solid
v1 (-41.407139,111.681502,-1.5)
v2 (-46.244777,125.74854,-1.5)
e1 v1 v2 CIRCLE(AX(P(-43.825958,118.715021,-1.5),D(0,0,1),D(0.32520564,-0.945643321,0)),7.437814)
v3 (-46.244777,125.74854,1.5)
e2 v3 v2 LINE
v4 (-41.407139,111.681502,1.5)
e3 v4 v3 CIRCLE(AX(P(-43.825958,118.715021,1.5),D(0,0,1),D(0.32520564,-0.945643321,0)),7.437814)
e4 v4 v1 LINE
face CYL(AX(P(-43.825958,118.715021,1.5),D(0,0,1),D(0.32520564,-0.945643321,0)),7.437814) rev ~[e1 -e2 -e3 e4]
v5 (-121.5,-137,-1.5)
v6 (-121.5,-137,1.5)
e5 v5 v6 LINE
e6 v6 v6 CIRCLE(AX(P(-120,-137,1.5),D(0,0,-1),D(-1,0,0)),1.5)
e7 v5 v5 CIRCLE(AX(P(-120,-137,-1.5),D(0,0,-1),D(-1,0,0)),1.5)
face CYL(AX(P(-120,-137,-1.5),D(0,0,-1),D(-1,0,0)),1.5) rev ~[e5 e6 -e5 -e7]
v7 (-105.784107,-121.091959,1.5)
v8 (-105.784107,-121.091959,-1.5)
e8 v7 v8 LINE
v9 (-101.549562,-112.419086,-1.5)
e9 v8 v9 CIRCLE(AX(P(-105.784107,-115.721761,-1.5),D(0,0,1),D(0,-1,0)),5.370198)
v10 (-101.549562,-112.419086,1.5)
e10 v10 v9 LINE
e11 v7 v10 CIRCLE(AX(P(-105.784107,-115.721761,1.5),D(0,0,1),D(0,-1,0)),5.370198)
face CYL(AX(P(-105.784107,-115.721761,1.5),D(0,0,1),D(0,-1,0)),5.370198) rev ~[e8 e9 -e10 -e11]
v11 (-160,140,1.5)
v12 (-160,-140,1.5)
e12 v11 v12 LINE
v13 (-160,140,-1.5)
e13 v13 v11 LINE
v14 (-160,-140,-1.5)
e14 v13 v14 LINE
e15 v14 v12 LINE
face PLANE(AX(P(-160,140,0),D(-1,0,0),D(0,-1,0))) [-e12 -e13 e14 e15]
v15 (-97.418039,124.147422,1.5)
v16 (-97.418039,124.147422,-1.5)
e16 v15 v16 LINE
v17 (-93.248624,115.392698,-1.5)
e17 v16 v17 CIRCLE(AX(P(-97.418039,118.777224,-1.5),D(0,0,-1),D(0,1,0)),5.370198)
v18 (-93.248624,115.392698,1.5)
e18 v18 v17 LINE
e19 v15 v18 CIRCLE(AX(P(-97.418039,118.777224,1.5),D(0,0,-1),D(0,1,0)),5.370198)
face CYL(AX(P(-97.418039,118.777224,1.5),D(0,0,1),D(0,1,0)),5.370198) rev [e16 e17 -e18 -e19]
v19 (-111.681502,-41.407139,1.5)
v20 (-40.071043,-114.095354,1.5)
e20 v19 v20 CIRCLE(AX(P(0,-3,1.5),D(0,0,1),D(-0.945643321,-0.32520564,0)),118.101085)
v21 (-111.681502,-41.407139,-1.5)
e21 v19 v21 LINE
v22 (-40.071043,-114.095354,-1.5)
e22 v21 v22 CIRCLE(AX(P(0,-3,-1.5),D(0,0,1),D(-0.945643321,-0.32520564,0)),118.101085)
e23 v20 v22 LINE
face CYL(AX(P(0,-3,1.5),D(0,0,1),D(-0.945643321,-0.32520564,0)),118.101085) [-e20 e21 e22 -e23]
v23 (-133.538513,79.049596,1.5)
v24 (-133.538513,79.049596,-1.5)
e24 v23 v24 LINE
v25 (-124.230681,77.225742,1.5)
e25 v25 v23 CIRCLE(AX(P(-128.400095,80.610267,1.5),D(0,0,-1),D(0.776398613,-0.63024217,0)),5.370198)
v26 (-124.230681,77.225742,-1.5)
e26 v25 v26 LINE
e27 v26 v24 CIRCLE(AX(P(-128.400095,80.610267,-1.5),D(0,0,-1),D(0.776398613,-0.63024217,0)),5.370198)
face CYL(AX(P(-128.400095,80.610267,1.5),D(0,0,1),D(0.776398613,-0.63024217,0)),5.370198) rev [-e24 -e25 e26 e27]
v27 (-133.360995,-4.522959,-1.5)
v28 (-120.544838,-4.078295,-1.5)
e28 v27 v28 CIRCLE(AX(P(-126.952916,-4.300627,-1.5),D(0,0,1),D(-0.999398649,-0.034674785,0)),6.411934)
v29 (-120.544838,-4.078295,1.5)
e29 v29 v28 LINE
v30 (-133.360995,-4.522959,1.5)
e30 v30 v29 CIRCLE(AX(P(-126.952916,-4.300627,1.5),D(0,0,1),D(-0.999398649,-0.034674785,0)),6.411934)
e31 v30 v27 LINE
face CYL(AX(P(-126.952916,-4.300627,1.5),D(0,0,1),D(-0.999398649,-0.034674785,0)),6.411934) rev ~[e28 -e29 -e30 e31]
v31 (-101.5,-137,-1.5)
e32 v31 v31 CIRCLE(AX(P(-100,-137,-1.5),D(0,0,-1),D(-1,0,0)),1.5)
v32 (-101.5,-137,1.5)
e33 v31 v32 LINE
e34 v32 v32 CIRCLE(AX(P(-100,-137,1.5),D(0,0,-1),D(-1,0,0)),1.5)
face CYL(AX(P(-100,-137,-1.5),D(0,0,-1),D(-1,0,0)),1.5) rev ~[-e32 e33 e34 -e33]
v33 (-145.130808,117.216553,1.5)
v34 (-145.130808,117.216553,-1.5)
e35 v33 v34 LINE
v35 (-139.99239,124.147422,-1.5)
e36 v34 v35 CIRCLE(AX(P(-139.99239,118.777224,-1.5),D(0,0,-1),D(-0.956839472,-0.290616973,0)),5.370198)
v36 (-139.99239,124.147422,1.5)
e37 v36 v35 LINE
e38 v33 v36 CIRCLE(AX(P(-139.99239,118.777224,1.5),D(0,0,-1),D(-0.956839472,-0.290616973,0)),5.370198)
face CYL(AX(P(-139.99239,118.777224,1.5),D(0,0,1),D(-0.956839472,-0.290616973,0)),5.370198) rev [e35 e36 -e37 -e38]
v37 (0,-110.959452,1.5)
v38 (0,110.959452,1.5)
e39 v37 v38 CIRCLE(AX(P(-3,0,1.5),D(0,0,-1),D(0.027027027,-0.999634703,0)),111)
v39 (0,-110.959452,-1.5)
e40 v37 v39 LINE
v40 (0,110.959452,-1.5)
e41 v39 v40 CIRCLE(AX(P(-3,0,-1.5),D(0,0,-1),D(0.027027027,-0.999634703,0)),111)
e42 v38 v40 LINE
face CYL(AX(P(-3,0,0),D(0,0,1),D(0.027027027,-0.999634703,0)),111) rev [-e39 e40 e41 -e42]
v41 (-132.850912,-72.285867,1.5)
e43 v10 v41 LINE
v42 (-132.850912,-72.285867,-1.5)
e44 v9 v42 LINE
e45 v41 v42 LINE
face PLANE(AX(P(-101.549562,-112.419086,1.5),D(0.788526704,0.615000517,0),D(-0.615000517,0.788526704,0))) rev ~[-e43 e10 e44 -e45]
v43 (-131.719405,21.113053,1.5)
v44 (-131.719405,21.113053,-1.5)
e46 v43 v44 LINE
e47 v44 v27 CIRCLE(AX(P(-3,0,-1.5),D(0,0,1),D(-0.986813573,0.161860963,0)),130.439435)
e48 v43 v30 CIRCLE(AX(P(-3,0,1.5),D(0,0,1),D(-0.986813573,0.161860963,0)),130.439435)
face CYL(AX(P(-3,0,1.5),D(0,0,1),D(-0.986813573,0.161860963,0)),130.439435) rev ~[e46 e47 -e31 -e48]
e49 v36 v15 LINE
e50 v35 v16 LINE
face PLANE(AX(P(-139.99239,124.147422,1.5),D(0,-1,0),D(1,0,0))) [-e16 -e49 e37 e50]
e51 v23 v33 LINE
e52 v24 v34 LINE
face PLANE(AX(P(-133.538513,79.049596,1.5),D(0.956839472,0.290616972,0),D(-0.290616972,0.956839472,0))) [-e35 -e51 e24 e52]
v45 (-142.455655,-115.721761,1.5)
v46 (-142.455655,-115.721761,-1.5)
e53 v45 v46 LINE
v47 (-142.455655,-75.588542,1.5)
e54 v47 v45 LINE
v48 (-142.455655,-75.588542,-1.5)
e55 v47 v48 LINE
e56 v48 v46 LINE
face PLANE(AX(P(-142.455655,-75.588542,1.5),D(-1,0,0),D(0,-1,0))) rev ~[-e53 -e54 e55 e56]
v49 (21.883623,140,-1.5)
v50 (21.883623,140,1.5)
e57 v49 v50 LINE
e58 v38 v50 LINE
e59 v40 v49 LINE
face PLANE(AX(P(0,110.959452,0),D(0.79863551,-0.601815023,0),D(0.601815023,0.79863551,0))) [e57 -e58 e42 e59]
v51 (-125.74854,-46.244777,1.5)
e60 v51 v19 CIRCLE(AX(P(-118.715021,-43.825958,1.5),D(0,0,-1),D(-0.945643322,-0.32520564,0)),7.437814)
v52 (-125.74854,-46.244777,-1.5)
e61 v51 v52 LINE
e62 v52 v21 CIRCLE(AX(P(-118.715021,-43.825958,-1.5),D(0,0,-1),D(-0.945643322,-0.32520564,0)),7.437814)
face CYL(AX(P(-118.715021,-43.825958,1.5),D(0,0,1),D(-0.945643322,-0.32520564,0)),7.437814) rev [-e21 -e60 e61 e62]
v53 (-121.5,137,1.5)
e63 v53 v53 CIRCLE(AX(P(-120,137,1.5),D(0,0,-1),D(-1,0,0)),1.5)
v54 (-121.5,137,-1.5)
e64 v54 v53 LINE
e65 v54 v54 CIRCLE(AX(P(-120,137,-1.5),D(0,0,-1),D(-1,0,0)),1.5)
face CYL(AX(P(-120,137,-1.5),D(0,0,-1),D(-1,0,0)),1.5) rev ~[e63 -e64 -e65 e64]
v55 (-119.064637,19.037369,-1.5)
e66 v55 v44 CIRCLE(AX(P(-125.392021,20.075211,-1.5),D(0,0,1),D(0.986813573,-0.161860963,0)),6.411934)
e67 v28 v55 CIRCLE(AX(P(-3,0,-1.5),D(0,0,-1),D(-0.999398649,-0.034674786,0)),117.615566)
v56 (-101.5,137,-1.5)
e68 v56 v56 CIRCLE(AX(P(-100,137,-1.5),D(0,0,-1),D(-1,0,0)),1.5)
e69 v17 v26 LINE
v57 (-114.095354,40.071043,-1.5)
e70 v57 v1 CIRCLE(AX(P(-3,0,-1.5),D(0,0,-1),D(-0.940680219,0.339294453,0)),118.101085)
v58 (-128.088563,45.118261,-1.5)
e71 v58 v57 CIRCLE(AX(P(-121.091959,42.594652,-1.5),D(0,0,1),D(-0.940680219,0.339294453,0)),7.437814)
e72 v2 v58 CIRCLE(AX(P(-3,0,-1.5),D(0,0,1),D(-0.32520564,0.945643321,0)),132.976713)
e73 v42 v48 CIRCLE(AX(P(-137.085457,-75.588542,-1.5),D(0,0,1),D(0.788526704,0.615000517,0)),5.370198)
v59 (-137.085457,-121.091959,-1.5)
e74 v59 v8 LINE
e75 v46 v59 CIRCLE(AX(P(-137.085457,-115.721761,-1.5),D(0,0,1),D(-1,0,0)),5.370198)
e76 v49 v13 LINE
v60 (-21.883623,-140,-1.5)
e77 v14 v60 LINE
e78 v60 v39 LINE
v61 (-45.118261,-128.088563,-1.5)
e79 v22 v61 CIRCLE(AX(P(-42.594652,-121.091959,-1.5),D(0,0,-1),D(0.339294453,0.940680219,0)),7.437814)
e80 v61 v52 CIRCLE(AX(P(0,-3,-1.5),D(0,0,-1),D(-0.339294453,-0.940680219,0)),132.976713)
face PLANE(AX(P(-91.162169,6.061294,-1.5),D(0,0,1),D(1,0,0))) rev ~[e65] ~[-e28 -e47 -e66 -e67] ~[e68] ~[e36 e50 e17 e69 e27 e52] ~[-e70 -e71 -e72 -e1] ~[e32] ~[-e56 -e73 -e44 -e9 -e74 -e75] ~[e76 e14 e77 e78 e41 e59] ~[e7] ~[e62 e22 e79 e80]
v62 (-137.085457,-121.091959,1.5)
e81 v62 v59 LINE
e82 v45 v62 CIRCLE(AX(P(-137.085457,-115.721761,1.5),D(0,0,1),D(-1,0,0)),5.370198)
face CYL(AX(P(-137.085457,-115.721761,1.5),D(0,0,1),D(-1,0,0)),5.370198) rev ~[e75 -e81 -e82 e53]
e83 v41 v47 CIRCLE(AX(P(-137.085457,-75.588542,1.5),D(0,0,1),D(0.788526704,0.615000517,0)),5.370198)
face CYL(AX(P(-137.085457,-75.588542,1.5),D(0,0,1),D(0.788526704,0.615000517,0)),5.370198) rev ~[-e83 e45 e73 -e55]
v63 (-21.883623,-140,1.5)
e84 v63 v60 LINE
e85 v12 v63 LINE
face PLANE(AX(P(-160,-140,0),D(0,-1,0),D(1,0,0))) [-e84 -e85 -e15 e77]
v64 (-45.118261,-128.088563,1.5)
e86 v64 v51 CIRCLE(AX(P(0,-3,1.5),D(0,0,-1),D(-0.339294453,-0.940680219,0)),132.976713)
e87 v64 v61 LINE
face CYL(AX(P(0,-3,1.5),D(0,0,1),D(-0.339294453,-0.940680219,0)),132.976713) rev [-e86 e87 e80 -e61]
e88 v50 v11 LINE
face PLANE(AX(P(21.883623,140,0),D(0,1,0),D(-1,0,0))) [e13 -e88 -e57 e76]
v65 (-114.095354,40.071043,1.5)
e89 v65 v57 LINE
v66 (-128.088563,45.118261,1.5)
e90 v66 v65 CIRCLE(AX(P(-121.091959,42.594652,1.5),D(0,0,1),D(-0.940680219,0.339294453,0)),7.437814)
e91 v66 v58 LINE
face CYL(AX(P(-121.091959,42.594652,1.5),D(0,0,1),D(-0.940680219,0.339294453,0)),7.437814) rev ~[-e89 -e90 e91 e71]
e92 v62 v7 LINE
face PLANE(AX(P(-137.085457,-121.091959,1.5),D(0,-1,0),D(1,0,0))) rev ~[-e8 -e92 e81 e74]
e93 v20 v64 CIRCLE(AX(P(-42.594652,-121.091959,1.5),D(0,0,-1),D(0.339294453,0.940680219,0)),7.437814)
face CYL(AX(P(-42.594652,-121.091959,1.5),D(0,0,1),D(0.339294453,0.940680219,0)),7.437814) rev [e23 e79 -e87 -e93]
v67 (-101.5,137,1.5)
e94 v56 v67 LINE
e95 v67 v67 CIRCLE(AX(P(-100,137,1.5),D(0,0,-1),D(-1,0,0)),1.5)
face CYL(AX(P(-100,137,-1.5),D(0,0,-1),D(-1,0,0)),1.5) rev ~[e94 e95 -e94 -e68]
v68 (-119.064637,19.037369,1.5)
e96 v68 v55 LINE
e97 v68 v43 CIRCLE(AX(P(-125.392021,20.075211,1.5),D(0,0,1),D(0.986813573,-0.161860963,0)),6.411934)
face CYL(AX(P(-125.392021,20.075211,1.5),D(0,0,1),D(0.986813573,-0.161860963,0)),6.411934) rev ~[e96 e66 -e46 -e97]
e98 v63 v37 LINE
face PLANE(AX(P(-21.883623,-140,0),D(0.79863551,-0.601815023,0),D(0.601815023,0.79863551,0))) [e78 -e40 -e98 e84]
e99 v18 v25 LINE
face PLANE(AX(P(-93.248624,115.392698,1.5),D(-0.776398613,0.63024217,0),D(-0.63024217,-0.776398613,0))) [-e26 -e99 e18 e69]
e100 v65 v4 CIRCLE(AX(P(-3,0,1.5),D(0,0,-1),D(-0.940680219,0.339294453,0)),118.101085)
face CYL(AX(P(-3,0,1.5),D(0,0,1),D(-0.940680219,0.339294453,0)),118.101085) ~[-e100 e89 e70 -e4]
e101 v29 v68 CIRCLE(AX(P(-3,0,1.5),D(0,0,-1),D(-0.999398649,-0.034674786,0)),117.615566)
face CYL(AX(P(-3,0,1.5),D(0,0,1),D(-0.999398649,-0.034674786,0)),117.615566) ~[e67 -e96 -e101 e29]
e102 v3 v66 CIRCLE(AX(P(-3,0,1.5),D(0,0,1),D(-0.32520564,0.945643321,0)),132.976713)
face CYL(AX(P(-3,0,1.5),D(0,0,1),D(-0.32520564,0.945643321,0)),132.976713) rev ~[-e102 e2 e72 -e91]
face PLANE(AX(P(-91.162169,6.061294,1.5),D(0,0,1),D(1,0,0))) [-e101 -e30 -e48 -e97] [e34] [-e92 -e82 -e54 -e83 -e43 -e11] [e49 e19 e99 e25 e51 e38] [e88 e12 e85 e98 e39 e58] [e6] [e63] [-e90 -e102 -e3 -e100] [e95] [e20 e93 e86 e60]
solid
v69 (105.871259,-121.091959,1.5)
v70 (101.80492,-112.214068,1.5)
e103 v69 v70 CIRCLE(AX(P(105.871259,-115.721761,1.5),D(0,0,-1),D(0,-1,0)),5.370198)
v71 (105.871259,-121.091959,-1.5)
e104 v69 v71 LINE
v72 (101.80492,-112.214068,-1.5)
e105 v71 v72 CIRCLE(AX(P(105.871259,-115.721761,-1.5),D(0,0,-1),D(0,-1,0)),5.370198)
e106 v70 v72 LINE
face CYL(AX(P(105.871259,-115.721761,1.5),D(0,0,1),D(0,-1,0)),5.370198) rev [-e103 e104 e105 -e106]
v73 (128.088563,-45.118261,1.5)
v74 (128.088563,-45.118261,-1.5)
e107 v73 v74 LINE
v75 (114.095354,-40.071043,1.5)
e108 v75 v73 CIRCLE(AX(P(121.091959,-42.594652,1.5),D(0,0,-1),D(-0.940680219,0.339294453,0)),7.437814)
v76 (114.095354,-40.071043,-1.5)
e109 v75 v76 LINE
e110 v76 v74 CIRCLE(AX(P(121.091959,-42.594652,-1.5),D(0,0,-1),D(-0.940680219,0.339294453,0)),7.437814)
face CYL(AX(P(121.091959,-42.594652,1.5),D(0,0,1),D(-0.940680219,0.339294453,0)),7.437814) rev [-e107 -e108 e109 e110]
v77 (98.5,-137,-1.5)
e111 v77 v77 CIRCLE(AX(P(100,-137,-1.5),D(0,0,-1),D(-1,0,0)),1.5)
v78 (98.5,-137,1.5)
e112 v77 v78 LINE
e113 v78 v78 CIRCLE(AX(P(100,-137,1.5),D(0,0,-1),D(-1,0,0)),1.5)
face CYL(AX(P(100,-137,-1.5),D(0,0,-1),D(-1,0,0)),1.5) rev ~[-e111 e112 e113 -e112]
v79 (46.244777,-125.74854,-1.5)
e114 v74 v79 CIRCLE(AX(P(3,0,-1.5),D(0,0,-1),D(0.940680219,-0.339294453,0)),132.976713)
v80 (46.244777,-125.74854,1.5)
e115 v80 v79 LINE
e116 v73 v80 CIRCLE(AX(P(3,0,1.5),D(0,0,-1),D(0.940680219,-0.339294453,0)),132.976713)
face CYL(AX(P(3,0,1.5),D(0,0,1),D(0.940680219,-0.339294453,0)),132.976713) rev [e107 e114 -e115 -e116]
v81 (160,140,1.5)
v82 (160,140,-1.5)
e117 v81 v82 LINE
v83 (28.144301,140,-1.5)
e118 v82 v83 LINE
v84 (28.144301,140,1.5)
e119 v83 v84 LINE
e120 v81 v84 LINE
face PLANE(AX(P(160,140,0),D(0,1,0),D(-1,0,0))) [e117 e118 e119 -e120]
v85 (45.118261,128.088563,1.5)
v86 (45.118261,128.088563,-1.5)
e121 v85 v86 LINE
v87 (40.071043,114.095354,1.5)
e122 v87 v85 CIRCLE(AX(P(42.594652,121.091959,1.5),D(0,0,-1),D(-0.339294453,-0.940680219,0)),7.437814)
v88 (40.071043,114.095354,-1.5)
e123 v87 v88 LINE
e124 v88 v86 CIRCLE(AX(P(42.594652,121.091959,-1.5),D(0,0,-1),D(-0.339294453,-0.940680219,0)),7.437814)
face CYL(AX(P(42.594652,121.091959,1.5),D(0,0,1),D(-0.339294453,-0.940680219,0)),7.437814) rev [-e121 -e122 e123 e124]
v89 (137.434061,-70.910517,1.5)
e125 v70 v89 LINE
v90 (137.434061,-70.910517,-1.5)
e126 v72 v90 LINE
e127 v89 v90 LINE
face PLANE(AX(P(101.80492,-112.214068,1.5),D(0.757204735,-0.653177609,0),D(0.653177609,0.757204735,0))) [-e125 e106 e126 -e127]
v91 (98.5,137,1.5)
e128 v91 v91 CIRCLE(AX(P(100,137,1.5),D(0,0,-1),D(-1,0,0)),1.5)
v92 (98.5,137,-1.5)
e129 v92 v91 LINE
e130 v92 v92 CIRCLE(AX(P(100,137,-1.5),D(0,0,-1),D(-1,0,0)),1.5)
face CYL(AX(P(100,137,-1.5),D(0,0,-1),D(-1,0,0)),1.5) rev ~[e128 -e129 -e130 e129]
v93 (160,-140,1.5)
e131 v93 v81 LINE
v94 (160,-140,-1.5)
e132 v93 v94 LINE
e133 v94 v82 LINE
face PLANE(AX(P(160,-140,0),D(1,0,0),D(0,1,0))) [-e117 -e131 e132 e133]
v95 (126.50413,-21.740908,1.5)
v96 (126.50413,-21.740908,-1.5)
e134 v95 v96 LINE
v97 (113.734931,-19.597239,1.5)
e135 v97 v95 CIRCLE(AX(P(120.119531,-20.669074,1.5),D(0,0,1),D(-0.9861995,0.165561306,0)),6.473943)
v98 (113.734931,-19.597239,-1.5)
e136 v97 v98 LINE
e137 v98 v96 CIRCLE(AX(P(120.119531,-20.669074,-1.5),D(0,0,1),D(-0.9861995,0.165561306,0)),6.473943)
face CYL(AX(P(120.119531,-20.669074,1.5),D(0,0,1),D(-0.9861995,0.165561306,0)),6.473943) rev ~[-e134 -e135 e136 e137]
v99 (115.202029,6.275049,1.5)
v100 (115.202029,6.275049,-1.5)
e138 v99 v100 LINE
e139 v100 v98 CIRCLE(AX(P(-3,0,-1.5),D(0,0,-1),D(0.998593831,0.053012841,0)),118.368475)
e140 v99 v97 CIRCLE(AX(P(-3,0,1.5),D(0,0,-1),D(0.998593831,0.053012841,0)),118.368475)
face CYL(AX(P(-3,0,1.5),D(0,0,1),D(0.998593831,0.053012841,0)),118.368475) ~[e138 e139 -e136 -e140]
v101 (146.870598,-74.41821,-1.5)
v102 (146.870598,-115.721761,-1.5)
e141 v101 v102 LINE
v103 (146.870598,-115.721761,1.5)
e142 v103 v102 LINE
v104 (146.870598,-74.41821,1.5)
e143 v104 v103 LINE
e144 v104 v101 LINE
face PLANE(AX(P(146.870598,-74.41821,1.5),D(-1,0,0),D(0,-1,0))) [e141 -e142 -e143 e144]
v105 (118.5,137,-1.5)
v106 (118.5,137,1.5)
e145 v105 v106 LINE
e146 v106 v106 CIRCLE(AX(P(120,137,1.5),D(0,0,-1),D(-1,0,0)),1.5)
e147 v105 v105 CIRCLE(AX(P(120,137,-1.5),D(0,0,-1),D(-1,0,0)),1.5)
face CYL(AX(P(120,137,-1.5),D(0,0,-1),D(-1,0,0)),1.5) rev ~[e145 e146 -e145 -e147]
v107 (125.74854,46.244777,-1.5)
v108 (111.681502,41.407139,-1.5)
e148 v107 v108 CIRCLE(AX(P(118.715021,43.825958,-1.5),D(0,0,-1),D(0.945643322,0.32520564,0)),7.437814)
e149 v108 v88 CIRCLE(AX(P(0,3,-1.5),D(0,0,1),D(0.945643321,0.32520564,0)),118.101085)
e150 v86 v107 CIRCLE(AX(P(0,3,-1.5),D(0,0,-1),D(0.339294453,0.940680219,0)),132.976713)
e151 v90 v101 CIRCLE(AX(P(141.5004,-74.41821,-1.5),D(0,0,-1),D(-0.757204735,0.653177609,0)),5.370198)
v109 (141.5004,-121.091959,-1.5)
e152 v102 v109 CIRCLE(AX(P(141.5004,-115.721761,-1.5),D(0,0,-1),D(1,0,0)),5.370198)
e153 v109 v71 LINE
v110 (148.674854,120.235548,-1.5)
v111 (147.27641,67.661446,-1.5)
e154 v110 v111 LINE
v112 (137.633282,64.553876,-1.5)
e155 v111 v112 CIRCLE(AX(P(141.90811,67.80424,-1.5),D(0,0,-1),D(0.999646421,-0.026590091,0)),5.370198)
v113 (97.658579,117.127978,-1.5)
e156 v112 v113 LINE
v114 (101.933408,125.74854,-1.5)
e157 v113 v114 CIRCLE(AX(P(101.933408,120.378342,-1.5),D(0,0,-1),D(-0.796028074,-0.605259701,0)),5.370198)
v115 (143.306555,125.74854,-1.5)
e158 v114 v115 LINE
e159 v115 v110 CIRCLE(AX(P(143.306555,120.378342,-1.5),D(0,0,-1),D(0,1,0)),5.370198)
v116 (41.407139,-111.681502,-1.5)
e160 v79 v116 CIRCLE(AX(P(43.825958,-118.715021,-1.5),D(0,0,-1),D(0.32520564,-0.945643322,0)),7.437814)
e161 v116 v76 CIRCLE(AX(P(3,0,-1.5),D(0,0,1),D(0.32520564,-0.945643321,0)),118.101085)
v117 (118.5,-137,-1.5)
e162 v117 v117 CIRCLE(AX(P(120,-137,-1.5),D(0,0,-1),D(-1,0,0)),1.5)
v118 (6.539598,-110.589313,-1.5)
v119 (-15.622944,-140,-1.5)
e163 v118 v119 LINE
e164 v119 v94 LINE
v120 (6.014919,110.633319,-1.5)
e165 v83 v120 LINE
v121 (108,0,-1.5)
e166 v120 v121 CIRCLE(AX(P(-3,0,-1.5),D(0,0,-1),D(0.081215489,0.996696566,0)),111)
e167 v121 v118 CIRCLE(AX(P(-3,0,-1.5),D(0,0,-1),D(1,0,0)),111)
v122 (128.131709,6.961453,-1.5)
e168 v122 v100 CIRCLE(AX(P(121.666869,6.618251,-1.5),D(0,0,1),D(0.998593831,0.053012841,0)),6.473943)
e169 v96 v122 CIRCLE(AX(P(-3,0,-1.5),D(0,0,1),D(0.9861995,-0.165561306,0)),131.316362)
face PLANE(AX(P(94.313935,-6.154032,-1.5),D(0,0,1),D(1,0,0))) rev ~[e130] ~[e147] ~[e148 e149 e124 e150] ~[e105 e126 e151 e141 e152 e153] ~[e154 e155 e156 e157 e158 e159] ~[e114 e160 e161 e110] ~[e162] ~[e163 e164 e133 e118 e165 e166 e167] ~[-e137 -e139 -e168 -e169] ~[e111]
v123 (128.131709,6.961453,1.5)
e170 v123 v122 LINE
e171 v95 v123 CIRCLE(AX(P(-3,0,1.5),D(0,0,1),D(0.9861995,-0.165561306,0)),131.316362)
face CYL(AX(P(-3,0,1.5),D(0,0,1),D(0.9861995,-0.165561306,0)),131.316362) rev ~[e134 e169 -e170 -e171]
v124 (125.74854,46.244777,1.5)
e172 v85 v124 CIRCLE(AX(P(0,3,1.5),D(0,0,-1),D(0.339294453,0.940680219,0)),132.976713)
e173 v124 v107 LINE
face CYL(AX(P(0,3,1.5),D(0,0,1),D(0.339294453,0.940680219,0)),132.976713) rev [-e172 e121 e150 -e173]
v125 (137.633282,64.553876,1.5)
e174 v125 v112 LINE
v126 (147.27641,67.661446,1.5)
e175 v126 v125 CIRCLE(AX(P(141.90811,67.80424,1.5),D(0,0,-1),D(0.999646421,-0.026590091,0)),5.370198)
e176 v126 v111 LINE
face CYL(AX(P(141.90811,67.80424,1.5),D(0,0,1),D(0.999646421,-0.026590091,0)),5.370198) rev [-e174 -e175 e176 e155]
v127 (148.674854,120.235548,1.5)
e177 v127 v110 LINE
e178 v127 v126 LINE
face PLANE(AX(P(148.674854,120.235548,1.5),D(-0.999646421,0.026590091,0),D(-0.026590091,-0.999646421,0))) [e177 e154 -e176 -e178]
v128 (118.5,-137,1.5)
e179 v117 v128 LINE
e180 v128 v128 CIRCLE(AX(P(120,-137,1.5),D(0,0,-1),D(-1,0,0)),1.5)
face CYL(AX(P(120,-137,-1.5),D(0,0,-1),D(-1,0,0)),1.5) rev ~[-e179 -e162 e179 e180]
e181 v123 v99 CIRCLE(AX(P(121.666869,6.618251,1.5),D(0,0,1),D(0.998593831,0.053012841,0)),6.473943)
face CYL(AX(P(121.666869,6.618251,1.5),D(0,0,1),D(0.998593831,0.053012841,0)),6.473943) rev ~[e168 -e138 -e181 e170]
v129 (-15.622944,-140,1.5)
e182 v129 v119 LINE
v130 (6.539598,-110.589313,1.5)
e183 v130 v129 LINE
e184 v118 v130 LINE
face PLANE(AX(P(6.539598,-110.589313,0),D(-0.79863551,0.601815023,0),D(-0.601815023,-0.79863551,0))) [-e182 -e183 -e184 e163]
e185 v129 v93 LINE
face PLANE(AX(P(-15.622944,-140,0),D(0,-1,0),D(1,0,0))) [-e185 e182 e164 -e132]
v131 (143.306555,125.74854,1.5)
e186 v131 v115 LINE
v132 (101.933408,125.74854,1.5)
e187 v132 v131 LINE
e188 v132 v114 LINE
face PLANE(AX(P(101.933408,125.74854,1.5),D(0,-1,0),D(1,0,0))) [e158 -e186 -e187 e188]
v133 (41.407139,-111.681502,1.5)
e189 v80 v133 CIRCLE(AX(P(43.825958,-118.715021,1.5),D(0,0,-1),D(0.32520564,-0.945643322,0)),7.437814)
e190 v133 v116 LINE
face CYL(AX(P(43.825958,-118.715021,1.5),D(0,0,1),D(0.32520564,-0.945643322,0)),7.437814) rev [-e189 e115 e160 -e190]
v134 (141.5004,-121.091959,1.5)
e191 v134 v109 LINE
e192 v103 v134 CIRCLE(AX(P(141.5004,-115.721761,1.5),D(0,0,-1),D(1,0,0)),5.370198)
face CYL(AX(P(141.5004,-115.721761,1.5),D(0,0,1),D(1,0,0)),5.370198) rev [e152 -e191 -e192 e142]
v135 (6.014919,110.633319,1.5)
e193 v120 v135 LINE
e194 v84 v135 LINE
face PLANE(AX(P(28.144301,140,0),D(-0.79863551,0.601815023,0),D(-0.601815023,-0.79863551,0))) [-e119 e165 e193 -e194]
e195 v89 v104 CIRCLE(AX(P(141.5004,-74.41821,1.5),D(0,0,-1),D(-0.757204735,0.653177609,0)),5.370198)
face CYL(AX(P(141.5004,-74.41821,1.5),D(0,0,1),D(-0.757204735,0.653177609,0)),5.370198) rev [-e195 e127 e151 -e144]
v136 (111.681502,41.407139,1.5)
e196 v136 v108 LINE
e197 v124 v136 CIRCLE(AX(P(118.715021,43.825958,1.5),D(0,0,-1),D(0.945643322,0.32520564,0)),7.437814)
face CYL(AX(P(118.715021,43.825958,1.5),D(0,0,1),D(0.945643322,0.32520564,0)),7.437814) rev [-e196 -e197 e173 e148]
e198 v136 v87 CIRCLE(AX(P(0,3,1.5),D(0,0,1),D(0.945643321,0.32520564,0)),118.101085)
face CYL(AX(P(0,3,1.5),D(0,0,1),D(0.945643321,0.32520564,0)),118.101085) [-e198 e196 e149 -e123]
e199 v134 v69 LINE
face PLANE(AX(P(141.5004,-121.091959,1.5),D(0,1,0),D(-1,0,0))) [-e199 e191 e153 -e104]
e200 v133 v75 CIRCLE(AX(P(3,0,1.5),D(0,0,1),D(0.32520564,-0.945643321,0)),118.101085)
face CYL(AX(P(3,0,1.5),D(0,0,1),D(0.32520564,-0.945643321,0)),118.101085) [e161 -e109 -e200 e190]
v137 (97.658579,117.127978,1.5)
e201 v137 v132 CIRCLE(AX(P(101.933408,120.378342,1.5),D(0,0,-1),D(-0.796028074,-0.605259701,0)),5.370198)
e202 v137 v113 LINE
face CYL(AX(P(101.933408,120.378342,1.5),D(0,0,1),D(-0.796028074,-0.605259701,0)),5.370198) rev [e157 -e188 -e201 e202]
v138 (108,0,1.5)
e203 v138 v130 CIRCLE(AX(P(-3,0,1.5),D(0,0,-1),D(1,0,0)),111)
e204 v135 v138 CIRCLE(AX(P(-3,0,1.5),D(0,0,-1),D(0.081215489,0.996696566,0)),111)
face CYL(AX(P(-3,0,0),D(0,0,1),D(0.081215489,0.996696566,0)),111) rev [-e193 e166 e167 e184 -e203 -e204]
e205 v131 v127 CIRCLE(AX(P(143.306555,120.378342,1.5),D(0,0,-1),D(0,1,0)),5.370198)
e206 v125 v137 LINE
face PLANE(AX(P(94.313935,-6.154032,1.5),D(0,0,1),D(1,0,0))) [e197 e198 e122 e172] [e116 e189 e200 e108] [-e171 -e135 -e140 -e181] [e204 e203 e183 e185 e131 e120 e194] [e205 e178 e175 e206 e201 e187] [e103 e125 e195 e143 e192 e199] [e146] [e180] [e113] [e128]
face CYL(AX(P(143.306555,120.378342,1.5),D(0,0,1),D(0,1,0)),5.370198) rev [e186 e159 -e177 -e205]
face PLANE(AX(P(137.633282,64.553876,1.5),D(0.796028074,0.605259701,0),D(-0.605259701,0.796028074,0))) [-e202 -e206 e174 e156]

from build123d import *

# Parameters (mm, degrees)
EXTRUDE_1_DEPTH     = 1.5
EXTRUDE_1_2_DEPTH   = 1.5
SKETCH_2_R          = 1.5
CUT_EXTRUDE_1_DEPTH = 3
CUT_EXTRUDE_3_DEPTH = 3


with BuildPart() as part:
    # 草图1 → 凸台-拉伸1 (new, symmetric)
    with BuildSketch(Plane.XY):
        with BuildLine():
            Line((0, 110.959452053), (21.883622522, 140))
            Line((21.883622522, 140), (-160, 140))
            Line((-160, 140), (-160, -140))
            Line((-160, -140), (-21.883622522, -140))
            Line((-21.883622522, -140), (0, -110.959452053))
            ThreePointArc((0, -110.959452053), (-114, 0), (0, 110.959452053))
        make_face()
    extrude(amount=EXTRUDE_1_DEPTH, both=True)


with BuildPart() as body_2:
    # 草图1 → Extrude 1 2 (new, symmetric)
    with BuildSketch(Plane.XY):
        with BuildLine():
            Line((160, 140), (28.144300813, 140))
            Line((28.144300813, 140), (6.014919263, 110.633318809))
            ThreePointArc((6.014919263, 110.633318809), (78.613895993, 75.234114475), (108, 0))
            ThreePointArc((108, 0), (78.792100532, -75.040337756), (6.53959837, -110.589312607))
            Line((6.53959837, -110.589312607), (-15.622944232, -140))
            Line((-15.622944232, -140), (160, -140))
            Line((160, -140), (160, 140))
        make_face()
    extrude(amount=EXTRUDE_1_2_DEPTH, both=True)


with BuildPart() as cut_extrude_1_tool:
    # 草图2 → 切除-拉伸1 (new body)
    with BuildSketch(Plane(origin=(0, 0, -1.5), x_dir=(-1, 0, 0), z_dir=(0, 0, -1))):
        with Locations((-120, -137)):
            Circle(SKETCH_2_R)
        with Locations((-100, -137)):
            Circle(SKETCH_2_R)
        with Locations((100, -137)):
            Circle(SKETCH_2_R)
        with Locations((120, -137)):
            Circle(SKETCH_2_R)
        with Locations((-120, 137)):
            Circle(SKETCH_2_R)
        with Locations((-100, 137)):
            Circle(SKETCH_2_R)
        with Locations((100, 137)):
            Circle(SKETCH_2_R)
        with Locations((120, 137)):
            Circle(SKETCH_2_R)
    extrude(amount=-CUT_EXTRUDE_1_DEPTH)


with BuildPart() as part_1:
    add(part.part)

    # 切除-拉伸1: cut by cut_extrude_1_tool
    add(cut_extrude_1_tool.part, mode=Mode.SUBTRACT)


with BuildPart() as body_2_1:
    add(body_2.part)

    # 切除-拉伸1: cut by cut_extrude_1_tool
    add(cut_extrude_1_tool.part, mode=Mode.SUBTRACT)


with BuildPart() as cut_extrude_3_tool:
    # 草图4 → 切除-拉伸3 (new body)
    with BuildSketch(Plane.XY.offset(1.5)):
        with BuildLine():
            Line((-139.992390357, 124.147421904), (-97.418038821, 124.147421904))
            ThreePointArc((-97.418038821, 124.147421904), (-92.569606066, 121.086277274), (-93.248624404, 115.392698372))
            Line((-93.248624404, 115.392698372), (-124.230680923, 77.225741538))
            ThreePointArc((-124.230680923, 77.225741538), (-129.432739134, 75.340288216), (-133.538512929, 79.049596157))
            Line((-133.538512929, 79.049596157), (-145.130807945, 117.216552991))
            ThreePointArc((-145.130807945, 117.216552991), (-144.306329369, 121.975498052), (-139.992390357, 124.147421904))
        make_face()
        with BuildLine():
            Line((-142.45565501, -75.588541558), (-142.45565501, -115.721760711))
            ThreePointArc((-142.45565501, -115.721760711), (-140.88276038, -119.519064258), (-137.085456833, -121.091958888))
            Line((-137.085456833, -121.091958888), (-105.784106601, -121.091958888))
            ThreePointArc((-105.784106601, -121.091958888), (-100.958391842, -118.077924016), (-101.549561931, -112.419086054))
            Line((-101.549561931, -112.419086054), (-132.850912162, -72.285866901))
            ThreePointArc((-132.850912162, -72.285866901), (-138.831693413, -70.510186877), (-142.45565501, -75.588541558))
        make_face()
        with BuildLine():
            Line((101.933407822, 125.748540433), (143.306554755, 125.748540433))
            ThreePointArc((143.306554755, 125.748540433), (147.154012413, 124.12482034), (148.674854143, 120.235548197))
            Line((148.674854143, 120.235548197), (147.27640952, 67.661446177))
            ThreePointArc((147.27640952, 67.661446177), (143.555279893, 62.692894011), (137.633281622, 64.553875693))
            Line((137.633281622, 64.553875693), (97.658579312, 117.127977712))
            ThreePointArc((97.658579312, 117.127977712), (97.122268133, 122.76412585), (101.933407822, 125.748540433))
        make_face()
        with BuildLine():
            Line((146.870598435, -74.418210265), (146.870598435, -115.721760711))
            ThreePointArc((146.870598435, -115.721760711), (145.297703806, -119.519064258), (141.500400259, -121.091958888))
            Line((141.500400259, -121.091958888), (105.871259166, -121.091958888))
            ThreePointArc((105.871259166, -121.091958888), (100.988839883, -117.958054609), (101.804919679, -112.214067504))
            Line((101.804919679, -112.214067504), (137.434060772, -70.910517058))
            ThreePointArc((137.434060772, -70.910517058), (143.371493463, -69.384519901), (146.870598435, -74.418210265))
        make_face()
        with BuildLine():
            ThreePointArc((-46.244777057, 125.748540433), (-96.323838646, 94.728387002), (-128.088563346, 45.118261089))
            ThreePointArc((-128.088563346, 45.118261089), (-123.615567907, 35.598047611), (-114.095354429, 40.07104305))
            ThreePointArc((-114.095354429, 40.07104305), (-85.884035548, 84.131462118), (-41.407138957, 111.681502246))
            ThreePointArc((-41.407138957, 111.681502246), (-36.792438914, 121.13384039), (-46.244777057, 125.748540433))
        make_face()
        with BuildLine():
            ThreePointArc((111.681502246, 41.407138957), (84.131462118, 85.884035548), (40.07104305, 114.095354429))
            ThreePointArc((40.07104305, 114.095354429), (35.598047611, 123.615567907), (45.118261089, 128.088563346))
            ThreePointArc((45.118261089, 128.088563346), (94.728387002, 96.323838646), (125.748540433, 46.244777057))
            ThreePointArc((125.748540433, 46.244777057), (121.13384039, 36.792438914), (111.681502246, 41.407138957))
        make_face()
        with BuildLine():
            ThreePointArc((41.407138957, -111.681502246), (85.884035548, -84.131462118), (114.095354429, -40.07104305))
            ThreePointArc((114.095354429, -40.07104305), (123.615567907, -35.598047611), (128.088563346, -45.118261089))
            ThreePointArc((128.088563346, -45.118261089), (96.323838646, -94.728387002), (46.244777057, -125.748540433))
            ThreePointArc((46.244777057, -125.748540433), (36.792438914, -121.13384039), (41.407138957, -111.681502246))
        make_face()
        with BuildLine():
            ThreePointArc((-111.681502246, -41.407138957), (-84.131462118, -85.884035548), (-40.07104305, -114.095354429))
            ThreePointArc((-40.07104305, -114.095354429), (-35.598047611, -123.615567907), (-45.118261089, -128.088563346))
            ThreePointArc((-45.118261089, -128.088563346), (-94.728387002, -96.323838646), (-125.748540433, -46.244777057))
            ThreePointArc((-125.748540433, -46.244777057), (-121.13384039, -36.792438914), (-111.681502246, -41.407138957))
        make_face()
        with BuildLine():
            ThreePointArc((-131.719404925, 21.113052626), (-133.172826246, 8.33555652), (-133.360995061, -4.522959442))
            ThreePointArc((-133.360995061, -4.522959442), (-126.730583963, -10.708705635), (-120.544837771, -4.078294536))
            ThreePointArc((-120.544837771, -4.078294536), (-120.375168363, 7.516064437), (-119.064636993, 19.037368844))
            ThreePointArc((-119.064636993, 19.037368844), (-124.354179068, 26.402594701), (-131.719404925, 21.113052626))
        make_face()
        with BuildLine():
            ThreePointArc((126.504130375, -21.740908346), (128.105745697, -7.434401461), (128.131708776, 6.961453387))
            ThreePointArc((128.131708776, 6.961453387), (121.323666672, 13.083091226), (115.202028833, 6.275049122))
            ThreePointArc((115.202028833, 6.275049122), (115.178625732, -6.701364178), (113.734930822, -19.597239288))
            ThreePointArc((113.734930822, -19.597239288), (119.047696069, -27.053673594), (126.504130375, -21.740908346))
        make_face()
    extrude(amount=-CUT_EXTRUDE_3_DEPTH)


with BuildPart() as part_2:
    add(part_1.part)

    # 切除-拉伸3: cut by cut_extrude_3_tool
    add(cut_extrude_3_tool.part, mode=Mode.SUBTRACT)


with BuildPart() as body_2_2:
    add(body_2_1.part)

    # 切除-拉伸3: cut by cut_extrude_3_tool
    add(cut_extrude_3_tool.part, mode=Mode.SUBTRACT)


solid = Compound([part_2.part, body_2_2.part])
